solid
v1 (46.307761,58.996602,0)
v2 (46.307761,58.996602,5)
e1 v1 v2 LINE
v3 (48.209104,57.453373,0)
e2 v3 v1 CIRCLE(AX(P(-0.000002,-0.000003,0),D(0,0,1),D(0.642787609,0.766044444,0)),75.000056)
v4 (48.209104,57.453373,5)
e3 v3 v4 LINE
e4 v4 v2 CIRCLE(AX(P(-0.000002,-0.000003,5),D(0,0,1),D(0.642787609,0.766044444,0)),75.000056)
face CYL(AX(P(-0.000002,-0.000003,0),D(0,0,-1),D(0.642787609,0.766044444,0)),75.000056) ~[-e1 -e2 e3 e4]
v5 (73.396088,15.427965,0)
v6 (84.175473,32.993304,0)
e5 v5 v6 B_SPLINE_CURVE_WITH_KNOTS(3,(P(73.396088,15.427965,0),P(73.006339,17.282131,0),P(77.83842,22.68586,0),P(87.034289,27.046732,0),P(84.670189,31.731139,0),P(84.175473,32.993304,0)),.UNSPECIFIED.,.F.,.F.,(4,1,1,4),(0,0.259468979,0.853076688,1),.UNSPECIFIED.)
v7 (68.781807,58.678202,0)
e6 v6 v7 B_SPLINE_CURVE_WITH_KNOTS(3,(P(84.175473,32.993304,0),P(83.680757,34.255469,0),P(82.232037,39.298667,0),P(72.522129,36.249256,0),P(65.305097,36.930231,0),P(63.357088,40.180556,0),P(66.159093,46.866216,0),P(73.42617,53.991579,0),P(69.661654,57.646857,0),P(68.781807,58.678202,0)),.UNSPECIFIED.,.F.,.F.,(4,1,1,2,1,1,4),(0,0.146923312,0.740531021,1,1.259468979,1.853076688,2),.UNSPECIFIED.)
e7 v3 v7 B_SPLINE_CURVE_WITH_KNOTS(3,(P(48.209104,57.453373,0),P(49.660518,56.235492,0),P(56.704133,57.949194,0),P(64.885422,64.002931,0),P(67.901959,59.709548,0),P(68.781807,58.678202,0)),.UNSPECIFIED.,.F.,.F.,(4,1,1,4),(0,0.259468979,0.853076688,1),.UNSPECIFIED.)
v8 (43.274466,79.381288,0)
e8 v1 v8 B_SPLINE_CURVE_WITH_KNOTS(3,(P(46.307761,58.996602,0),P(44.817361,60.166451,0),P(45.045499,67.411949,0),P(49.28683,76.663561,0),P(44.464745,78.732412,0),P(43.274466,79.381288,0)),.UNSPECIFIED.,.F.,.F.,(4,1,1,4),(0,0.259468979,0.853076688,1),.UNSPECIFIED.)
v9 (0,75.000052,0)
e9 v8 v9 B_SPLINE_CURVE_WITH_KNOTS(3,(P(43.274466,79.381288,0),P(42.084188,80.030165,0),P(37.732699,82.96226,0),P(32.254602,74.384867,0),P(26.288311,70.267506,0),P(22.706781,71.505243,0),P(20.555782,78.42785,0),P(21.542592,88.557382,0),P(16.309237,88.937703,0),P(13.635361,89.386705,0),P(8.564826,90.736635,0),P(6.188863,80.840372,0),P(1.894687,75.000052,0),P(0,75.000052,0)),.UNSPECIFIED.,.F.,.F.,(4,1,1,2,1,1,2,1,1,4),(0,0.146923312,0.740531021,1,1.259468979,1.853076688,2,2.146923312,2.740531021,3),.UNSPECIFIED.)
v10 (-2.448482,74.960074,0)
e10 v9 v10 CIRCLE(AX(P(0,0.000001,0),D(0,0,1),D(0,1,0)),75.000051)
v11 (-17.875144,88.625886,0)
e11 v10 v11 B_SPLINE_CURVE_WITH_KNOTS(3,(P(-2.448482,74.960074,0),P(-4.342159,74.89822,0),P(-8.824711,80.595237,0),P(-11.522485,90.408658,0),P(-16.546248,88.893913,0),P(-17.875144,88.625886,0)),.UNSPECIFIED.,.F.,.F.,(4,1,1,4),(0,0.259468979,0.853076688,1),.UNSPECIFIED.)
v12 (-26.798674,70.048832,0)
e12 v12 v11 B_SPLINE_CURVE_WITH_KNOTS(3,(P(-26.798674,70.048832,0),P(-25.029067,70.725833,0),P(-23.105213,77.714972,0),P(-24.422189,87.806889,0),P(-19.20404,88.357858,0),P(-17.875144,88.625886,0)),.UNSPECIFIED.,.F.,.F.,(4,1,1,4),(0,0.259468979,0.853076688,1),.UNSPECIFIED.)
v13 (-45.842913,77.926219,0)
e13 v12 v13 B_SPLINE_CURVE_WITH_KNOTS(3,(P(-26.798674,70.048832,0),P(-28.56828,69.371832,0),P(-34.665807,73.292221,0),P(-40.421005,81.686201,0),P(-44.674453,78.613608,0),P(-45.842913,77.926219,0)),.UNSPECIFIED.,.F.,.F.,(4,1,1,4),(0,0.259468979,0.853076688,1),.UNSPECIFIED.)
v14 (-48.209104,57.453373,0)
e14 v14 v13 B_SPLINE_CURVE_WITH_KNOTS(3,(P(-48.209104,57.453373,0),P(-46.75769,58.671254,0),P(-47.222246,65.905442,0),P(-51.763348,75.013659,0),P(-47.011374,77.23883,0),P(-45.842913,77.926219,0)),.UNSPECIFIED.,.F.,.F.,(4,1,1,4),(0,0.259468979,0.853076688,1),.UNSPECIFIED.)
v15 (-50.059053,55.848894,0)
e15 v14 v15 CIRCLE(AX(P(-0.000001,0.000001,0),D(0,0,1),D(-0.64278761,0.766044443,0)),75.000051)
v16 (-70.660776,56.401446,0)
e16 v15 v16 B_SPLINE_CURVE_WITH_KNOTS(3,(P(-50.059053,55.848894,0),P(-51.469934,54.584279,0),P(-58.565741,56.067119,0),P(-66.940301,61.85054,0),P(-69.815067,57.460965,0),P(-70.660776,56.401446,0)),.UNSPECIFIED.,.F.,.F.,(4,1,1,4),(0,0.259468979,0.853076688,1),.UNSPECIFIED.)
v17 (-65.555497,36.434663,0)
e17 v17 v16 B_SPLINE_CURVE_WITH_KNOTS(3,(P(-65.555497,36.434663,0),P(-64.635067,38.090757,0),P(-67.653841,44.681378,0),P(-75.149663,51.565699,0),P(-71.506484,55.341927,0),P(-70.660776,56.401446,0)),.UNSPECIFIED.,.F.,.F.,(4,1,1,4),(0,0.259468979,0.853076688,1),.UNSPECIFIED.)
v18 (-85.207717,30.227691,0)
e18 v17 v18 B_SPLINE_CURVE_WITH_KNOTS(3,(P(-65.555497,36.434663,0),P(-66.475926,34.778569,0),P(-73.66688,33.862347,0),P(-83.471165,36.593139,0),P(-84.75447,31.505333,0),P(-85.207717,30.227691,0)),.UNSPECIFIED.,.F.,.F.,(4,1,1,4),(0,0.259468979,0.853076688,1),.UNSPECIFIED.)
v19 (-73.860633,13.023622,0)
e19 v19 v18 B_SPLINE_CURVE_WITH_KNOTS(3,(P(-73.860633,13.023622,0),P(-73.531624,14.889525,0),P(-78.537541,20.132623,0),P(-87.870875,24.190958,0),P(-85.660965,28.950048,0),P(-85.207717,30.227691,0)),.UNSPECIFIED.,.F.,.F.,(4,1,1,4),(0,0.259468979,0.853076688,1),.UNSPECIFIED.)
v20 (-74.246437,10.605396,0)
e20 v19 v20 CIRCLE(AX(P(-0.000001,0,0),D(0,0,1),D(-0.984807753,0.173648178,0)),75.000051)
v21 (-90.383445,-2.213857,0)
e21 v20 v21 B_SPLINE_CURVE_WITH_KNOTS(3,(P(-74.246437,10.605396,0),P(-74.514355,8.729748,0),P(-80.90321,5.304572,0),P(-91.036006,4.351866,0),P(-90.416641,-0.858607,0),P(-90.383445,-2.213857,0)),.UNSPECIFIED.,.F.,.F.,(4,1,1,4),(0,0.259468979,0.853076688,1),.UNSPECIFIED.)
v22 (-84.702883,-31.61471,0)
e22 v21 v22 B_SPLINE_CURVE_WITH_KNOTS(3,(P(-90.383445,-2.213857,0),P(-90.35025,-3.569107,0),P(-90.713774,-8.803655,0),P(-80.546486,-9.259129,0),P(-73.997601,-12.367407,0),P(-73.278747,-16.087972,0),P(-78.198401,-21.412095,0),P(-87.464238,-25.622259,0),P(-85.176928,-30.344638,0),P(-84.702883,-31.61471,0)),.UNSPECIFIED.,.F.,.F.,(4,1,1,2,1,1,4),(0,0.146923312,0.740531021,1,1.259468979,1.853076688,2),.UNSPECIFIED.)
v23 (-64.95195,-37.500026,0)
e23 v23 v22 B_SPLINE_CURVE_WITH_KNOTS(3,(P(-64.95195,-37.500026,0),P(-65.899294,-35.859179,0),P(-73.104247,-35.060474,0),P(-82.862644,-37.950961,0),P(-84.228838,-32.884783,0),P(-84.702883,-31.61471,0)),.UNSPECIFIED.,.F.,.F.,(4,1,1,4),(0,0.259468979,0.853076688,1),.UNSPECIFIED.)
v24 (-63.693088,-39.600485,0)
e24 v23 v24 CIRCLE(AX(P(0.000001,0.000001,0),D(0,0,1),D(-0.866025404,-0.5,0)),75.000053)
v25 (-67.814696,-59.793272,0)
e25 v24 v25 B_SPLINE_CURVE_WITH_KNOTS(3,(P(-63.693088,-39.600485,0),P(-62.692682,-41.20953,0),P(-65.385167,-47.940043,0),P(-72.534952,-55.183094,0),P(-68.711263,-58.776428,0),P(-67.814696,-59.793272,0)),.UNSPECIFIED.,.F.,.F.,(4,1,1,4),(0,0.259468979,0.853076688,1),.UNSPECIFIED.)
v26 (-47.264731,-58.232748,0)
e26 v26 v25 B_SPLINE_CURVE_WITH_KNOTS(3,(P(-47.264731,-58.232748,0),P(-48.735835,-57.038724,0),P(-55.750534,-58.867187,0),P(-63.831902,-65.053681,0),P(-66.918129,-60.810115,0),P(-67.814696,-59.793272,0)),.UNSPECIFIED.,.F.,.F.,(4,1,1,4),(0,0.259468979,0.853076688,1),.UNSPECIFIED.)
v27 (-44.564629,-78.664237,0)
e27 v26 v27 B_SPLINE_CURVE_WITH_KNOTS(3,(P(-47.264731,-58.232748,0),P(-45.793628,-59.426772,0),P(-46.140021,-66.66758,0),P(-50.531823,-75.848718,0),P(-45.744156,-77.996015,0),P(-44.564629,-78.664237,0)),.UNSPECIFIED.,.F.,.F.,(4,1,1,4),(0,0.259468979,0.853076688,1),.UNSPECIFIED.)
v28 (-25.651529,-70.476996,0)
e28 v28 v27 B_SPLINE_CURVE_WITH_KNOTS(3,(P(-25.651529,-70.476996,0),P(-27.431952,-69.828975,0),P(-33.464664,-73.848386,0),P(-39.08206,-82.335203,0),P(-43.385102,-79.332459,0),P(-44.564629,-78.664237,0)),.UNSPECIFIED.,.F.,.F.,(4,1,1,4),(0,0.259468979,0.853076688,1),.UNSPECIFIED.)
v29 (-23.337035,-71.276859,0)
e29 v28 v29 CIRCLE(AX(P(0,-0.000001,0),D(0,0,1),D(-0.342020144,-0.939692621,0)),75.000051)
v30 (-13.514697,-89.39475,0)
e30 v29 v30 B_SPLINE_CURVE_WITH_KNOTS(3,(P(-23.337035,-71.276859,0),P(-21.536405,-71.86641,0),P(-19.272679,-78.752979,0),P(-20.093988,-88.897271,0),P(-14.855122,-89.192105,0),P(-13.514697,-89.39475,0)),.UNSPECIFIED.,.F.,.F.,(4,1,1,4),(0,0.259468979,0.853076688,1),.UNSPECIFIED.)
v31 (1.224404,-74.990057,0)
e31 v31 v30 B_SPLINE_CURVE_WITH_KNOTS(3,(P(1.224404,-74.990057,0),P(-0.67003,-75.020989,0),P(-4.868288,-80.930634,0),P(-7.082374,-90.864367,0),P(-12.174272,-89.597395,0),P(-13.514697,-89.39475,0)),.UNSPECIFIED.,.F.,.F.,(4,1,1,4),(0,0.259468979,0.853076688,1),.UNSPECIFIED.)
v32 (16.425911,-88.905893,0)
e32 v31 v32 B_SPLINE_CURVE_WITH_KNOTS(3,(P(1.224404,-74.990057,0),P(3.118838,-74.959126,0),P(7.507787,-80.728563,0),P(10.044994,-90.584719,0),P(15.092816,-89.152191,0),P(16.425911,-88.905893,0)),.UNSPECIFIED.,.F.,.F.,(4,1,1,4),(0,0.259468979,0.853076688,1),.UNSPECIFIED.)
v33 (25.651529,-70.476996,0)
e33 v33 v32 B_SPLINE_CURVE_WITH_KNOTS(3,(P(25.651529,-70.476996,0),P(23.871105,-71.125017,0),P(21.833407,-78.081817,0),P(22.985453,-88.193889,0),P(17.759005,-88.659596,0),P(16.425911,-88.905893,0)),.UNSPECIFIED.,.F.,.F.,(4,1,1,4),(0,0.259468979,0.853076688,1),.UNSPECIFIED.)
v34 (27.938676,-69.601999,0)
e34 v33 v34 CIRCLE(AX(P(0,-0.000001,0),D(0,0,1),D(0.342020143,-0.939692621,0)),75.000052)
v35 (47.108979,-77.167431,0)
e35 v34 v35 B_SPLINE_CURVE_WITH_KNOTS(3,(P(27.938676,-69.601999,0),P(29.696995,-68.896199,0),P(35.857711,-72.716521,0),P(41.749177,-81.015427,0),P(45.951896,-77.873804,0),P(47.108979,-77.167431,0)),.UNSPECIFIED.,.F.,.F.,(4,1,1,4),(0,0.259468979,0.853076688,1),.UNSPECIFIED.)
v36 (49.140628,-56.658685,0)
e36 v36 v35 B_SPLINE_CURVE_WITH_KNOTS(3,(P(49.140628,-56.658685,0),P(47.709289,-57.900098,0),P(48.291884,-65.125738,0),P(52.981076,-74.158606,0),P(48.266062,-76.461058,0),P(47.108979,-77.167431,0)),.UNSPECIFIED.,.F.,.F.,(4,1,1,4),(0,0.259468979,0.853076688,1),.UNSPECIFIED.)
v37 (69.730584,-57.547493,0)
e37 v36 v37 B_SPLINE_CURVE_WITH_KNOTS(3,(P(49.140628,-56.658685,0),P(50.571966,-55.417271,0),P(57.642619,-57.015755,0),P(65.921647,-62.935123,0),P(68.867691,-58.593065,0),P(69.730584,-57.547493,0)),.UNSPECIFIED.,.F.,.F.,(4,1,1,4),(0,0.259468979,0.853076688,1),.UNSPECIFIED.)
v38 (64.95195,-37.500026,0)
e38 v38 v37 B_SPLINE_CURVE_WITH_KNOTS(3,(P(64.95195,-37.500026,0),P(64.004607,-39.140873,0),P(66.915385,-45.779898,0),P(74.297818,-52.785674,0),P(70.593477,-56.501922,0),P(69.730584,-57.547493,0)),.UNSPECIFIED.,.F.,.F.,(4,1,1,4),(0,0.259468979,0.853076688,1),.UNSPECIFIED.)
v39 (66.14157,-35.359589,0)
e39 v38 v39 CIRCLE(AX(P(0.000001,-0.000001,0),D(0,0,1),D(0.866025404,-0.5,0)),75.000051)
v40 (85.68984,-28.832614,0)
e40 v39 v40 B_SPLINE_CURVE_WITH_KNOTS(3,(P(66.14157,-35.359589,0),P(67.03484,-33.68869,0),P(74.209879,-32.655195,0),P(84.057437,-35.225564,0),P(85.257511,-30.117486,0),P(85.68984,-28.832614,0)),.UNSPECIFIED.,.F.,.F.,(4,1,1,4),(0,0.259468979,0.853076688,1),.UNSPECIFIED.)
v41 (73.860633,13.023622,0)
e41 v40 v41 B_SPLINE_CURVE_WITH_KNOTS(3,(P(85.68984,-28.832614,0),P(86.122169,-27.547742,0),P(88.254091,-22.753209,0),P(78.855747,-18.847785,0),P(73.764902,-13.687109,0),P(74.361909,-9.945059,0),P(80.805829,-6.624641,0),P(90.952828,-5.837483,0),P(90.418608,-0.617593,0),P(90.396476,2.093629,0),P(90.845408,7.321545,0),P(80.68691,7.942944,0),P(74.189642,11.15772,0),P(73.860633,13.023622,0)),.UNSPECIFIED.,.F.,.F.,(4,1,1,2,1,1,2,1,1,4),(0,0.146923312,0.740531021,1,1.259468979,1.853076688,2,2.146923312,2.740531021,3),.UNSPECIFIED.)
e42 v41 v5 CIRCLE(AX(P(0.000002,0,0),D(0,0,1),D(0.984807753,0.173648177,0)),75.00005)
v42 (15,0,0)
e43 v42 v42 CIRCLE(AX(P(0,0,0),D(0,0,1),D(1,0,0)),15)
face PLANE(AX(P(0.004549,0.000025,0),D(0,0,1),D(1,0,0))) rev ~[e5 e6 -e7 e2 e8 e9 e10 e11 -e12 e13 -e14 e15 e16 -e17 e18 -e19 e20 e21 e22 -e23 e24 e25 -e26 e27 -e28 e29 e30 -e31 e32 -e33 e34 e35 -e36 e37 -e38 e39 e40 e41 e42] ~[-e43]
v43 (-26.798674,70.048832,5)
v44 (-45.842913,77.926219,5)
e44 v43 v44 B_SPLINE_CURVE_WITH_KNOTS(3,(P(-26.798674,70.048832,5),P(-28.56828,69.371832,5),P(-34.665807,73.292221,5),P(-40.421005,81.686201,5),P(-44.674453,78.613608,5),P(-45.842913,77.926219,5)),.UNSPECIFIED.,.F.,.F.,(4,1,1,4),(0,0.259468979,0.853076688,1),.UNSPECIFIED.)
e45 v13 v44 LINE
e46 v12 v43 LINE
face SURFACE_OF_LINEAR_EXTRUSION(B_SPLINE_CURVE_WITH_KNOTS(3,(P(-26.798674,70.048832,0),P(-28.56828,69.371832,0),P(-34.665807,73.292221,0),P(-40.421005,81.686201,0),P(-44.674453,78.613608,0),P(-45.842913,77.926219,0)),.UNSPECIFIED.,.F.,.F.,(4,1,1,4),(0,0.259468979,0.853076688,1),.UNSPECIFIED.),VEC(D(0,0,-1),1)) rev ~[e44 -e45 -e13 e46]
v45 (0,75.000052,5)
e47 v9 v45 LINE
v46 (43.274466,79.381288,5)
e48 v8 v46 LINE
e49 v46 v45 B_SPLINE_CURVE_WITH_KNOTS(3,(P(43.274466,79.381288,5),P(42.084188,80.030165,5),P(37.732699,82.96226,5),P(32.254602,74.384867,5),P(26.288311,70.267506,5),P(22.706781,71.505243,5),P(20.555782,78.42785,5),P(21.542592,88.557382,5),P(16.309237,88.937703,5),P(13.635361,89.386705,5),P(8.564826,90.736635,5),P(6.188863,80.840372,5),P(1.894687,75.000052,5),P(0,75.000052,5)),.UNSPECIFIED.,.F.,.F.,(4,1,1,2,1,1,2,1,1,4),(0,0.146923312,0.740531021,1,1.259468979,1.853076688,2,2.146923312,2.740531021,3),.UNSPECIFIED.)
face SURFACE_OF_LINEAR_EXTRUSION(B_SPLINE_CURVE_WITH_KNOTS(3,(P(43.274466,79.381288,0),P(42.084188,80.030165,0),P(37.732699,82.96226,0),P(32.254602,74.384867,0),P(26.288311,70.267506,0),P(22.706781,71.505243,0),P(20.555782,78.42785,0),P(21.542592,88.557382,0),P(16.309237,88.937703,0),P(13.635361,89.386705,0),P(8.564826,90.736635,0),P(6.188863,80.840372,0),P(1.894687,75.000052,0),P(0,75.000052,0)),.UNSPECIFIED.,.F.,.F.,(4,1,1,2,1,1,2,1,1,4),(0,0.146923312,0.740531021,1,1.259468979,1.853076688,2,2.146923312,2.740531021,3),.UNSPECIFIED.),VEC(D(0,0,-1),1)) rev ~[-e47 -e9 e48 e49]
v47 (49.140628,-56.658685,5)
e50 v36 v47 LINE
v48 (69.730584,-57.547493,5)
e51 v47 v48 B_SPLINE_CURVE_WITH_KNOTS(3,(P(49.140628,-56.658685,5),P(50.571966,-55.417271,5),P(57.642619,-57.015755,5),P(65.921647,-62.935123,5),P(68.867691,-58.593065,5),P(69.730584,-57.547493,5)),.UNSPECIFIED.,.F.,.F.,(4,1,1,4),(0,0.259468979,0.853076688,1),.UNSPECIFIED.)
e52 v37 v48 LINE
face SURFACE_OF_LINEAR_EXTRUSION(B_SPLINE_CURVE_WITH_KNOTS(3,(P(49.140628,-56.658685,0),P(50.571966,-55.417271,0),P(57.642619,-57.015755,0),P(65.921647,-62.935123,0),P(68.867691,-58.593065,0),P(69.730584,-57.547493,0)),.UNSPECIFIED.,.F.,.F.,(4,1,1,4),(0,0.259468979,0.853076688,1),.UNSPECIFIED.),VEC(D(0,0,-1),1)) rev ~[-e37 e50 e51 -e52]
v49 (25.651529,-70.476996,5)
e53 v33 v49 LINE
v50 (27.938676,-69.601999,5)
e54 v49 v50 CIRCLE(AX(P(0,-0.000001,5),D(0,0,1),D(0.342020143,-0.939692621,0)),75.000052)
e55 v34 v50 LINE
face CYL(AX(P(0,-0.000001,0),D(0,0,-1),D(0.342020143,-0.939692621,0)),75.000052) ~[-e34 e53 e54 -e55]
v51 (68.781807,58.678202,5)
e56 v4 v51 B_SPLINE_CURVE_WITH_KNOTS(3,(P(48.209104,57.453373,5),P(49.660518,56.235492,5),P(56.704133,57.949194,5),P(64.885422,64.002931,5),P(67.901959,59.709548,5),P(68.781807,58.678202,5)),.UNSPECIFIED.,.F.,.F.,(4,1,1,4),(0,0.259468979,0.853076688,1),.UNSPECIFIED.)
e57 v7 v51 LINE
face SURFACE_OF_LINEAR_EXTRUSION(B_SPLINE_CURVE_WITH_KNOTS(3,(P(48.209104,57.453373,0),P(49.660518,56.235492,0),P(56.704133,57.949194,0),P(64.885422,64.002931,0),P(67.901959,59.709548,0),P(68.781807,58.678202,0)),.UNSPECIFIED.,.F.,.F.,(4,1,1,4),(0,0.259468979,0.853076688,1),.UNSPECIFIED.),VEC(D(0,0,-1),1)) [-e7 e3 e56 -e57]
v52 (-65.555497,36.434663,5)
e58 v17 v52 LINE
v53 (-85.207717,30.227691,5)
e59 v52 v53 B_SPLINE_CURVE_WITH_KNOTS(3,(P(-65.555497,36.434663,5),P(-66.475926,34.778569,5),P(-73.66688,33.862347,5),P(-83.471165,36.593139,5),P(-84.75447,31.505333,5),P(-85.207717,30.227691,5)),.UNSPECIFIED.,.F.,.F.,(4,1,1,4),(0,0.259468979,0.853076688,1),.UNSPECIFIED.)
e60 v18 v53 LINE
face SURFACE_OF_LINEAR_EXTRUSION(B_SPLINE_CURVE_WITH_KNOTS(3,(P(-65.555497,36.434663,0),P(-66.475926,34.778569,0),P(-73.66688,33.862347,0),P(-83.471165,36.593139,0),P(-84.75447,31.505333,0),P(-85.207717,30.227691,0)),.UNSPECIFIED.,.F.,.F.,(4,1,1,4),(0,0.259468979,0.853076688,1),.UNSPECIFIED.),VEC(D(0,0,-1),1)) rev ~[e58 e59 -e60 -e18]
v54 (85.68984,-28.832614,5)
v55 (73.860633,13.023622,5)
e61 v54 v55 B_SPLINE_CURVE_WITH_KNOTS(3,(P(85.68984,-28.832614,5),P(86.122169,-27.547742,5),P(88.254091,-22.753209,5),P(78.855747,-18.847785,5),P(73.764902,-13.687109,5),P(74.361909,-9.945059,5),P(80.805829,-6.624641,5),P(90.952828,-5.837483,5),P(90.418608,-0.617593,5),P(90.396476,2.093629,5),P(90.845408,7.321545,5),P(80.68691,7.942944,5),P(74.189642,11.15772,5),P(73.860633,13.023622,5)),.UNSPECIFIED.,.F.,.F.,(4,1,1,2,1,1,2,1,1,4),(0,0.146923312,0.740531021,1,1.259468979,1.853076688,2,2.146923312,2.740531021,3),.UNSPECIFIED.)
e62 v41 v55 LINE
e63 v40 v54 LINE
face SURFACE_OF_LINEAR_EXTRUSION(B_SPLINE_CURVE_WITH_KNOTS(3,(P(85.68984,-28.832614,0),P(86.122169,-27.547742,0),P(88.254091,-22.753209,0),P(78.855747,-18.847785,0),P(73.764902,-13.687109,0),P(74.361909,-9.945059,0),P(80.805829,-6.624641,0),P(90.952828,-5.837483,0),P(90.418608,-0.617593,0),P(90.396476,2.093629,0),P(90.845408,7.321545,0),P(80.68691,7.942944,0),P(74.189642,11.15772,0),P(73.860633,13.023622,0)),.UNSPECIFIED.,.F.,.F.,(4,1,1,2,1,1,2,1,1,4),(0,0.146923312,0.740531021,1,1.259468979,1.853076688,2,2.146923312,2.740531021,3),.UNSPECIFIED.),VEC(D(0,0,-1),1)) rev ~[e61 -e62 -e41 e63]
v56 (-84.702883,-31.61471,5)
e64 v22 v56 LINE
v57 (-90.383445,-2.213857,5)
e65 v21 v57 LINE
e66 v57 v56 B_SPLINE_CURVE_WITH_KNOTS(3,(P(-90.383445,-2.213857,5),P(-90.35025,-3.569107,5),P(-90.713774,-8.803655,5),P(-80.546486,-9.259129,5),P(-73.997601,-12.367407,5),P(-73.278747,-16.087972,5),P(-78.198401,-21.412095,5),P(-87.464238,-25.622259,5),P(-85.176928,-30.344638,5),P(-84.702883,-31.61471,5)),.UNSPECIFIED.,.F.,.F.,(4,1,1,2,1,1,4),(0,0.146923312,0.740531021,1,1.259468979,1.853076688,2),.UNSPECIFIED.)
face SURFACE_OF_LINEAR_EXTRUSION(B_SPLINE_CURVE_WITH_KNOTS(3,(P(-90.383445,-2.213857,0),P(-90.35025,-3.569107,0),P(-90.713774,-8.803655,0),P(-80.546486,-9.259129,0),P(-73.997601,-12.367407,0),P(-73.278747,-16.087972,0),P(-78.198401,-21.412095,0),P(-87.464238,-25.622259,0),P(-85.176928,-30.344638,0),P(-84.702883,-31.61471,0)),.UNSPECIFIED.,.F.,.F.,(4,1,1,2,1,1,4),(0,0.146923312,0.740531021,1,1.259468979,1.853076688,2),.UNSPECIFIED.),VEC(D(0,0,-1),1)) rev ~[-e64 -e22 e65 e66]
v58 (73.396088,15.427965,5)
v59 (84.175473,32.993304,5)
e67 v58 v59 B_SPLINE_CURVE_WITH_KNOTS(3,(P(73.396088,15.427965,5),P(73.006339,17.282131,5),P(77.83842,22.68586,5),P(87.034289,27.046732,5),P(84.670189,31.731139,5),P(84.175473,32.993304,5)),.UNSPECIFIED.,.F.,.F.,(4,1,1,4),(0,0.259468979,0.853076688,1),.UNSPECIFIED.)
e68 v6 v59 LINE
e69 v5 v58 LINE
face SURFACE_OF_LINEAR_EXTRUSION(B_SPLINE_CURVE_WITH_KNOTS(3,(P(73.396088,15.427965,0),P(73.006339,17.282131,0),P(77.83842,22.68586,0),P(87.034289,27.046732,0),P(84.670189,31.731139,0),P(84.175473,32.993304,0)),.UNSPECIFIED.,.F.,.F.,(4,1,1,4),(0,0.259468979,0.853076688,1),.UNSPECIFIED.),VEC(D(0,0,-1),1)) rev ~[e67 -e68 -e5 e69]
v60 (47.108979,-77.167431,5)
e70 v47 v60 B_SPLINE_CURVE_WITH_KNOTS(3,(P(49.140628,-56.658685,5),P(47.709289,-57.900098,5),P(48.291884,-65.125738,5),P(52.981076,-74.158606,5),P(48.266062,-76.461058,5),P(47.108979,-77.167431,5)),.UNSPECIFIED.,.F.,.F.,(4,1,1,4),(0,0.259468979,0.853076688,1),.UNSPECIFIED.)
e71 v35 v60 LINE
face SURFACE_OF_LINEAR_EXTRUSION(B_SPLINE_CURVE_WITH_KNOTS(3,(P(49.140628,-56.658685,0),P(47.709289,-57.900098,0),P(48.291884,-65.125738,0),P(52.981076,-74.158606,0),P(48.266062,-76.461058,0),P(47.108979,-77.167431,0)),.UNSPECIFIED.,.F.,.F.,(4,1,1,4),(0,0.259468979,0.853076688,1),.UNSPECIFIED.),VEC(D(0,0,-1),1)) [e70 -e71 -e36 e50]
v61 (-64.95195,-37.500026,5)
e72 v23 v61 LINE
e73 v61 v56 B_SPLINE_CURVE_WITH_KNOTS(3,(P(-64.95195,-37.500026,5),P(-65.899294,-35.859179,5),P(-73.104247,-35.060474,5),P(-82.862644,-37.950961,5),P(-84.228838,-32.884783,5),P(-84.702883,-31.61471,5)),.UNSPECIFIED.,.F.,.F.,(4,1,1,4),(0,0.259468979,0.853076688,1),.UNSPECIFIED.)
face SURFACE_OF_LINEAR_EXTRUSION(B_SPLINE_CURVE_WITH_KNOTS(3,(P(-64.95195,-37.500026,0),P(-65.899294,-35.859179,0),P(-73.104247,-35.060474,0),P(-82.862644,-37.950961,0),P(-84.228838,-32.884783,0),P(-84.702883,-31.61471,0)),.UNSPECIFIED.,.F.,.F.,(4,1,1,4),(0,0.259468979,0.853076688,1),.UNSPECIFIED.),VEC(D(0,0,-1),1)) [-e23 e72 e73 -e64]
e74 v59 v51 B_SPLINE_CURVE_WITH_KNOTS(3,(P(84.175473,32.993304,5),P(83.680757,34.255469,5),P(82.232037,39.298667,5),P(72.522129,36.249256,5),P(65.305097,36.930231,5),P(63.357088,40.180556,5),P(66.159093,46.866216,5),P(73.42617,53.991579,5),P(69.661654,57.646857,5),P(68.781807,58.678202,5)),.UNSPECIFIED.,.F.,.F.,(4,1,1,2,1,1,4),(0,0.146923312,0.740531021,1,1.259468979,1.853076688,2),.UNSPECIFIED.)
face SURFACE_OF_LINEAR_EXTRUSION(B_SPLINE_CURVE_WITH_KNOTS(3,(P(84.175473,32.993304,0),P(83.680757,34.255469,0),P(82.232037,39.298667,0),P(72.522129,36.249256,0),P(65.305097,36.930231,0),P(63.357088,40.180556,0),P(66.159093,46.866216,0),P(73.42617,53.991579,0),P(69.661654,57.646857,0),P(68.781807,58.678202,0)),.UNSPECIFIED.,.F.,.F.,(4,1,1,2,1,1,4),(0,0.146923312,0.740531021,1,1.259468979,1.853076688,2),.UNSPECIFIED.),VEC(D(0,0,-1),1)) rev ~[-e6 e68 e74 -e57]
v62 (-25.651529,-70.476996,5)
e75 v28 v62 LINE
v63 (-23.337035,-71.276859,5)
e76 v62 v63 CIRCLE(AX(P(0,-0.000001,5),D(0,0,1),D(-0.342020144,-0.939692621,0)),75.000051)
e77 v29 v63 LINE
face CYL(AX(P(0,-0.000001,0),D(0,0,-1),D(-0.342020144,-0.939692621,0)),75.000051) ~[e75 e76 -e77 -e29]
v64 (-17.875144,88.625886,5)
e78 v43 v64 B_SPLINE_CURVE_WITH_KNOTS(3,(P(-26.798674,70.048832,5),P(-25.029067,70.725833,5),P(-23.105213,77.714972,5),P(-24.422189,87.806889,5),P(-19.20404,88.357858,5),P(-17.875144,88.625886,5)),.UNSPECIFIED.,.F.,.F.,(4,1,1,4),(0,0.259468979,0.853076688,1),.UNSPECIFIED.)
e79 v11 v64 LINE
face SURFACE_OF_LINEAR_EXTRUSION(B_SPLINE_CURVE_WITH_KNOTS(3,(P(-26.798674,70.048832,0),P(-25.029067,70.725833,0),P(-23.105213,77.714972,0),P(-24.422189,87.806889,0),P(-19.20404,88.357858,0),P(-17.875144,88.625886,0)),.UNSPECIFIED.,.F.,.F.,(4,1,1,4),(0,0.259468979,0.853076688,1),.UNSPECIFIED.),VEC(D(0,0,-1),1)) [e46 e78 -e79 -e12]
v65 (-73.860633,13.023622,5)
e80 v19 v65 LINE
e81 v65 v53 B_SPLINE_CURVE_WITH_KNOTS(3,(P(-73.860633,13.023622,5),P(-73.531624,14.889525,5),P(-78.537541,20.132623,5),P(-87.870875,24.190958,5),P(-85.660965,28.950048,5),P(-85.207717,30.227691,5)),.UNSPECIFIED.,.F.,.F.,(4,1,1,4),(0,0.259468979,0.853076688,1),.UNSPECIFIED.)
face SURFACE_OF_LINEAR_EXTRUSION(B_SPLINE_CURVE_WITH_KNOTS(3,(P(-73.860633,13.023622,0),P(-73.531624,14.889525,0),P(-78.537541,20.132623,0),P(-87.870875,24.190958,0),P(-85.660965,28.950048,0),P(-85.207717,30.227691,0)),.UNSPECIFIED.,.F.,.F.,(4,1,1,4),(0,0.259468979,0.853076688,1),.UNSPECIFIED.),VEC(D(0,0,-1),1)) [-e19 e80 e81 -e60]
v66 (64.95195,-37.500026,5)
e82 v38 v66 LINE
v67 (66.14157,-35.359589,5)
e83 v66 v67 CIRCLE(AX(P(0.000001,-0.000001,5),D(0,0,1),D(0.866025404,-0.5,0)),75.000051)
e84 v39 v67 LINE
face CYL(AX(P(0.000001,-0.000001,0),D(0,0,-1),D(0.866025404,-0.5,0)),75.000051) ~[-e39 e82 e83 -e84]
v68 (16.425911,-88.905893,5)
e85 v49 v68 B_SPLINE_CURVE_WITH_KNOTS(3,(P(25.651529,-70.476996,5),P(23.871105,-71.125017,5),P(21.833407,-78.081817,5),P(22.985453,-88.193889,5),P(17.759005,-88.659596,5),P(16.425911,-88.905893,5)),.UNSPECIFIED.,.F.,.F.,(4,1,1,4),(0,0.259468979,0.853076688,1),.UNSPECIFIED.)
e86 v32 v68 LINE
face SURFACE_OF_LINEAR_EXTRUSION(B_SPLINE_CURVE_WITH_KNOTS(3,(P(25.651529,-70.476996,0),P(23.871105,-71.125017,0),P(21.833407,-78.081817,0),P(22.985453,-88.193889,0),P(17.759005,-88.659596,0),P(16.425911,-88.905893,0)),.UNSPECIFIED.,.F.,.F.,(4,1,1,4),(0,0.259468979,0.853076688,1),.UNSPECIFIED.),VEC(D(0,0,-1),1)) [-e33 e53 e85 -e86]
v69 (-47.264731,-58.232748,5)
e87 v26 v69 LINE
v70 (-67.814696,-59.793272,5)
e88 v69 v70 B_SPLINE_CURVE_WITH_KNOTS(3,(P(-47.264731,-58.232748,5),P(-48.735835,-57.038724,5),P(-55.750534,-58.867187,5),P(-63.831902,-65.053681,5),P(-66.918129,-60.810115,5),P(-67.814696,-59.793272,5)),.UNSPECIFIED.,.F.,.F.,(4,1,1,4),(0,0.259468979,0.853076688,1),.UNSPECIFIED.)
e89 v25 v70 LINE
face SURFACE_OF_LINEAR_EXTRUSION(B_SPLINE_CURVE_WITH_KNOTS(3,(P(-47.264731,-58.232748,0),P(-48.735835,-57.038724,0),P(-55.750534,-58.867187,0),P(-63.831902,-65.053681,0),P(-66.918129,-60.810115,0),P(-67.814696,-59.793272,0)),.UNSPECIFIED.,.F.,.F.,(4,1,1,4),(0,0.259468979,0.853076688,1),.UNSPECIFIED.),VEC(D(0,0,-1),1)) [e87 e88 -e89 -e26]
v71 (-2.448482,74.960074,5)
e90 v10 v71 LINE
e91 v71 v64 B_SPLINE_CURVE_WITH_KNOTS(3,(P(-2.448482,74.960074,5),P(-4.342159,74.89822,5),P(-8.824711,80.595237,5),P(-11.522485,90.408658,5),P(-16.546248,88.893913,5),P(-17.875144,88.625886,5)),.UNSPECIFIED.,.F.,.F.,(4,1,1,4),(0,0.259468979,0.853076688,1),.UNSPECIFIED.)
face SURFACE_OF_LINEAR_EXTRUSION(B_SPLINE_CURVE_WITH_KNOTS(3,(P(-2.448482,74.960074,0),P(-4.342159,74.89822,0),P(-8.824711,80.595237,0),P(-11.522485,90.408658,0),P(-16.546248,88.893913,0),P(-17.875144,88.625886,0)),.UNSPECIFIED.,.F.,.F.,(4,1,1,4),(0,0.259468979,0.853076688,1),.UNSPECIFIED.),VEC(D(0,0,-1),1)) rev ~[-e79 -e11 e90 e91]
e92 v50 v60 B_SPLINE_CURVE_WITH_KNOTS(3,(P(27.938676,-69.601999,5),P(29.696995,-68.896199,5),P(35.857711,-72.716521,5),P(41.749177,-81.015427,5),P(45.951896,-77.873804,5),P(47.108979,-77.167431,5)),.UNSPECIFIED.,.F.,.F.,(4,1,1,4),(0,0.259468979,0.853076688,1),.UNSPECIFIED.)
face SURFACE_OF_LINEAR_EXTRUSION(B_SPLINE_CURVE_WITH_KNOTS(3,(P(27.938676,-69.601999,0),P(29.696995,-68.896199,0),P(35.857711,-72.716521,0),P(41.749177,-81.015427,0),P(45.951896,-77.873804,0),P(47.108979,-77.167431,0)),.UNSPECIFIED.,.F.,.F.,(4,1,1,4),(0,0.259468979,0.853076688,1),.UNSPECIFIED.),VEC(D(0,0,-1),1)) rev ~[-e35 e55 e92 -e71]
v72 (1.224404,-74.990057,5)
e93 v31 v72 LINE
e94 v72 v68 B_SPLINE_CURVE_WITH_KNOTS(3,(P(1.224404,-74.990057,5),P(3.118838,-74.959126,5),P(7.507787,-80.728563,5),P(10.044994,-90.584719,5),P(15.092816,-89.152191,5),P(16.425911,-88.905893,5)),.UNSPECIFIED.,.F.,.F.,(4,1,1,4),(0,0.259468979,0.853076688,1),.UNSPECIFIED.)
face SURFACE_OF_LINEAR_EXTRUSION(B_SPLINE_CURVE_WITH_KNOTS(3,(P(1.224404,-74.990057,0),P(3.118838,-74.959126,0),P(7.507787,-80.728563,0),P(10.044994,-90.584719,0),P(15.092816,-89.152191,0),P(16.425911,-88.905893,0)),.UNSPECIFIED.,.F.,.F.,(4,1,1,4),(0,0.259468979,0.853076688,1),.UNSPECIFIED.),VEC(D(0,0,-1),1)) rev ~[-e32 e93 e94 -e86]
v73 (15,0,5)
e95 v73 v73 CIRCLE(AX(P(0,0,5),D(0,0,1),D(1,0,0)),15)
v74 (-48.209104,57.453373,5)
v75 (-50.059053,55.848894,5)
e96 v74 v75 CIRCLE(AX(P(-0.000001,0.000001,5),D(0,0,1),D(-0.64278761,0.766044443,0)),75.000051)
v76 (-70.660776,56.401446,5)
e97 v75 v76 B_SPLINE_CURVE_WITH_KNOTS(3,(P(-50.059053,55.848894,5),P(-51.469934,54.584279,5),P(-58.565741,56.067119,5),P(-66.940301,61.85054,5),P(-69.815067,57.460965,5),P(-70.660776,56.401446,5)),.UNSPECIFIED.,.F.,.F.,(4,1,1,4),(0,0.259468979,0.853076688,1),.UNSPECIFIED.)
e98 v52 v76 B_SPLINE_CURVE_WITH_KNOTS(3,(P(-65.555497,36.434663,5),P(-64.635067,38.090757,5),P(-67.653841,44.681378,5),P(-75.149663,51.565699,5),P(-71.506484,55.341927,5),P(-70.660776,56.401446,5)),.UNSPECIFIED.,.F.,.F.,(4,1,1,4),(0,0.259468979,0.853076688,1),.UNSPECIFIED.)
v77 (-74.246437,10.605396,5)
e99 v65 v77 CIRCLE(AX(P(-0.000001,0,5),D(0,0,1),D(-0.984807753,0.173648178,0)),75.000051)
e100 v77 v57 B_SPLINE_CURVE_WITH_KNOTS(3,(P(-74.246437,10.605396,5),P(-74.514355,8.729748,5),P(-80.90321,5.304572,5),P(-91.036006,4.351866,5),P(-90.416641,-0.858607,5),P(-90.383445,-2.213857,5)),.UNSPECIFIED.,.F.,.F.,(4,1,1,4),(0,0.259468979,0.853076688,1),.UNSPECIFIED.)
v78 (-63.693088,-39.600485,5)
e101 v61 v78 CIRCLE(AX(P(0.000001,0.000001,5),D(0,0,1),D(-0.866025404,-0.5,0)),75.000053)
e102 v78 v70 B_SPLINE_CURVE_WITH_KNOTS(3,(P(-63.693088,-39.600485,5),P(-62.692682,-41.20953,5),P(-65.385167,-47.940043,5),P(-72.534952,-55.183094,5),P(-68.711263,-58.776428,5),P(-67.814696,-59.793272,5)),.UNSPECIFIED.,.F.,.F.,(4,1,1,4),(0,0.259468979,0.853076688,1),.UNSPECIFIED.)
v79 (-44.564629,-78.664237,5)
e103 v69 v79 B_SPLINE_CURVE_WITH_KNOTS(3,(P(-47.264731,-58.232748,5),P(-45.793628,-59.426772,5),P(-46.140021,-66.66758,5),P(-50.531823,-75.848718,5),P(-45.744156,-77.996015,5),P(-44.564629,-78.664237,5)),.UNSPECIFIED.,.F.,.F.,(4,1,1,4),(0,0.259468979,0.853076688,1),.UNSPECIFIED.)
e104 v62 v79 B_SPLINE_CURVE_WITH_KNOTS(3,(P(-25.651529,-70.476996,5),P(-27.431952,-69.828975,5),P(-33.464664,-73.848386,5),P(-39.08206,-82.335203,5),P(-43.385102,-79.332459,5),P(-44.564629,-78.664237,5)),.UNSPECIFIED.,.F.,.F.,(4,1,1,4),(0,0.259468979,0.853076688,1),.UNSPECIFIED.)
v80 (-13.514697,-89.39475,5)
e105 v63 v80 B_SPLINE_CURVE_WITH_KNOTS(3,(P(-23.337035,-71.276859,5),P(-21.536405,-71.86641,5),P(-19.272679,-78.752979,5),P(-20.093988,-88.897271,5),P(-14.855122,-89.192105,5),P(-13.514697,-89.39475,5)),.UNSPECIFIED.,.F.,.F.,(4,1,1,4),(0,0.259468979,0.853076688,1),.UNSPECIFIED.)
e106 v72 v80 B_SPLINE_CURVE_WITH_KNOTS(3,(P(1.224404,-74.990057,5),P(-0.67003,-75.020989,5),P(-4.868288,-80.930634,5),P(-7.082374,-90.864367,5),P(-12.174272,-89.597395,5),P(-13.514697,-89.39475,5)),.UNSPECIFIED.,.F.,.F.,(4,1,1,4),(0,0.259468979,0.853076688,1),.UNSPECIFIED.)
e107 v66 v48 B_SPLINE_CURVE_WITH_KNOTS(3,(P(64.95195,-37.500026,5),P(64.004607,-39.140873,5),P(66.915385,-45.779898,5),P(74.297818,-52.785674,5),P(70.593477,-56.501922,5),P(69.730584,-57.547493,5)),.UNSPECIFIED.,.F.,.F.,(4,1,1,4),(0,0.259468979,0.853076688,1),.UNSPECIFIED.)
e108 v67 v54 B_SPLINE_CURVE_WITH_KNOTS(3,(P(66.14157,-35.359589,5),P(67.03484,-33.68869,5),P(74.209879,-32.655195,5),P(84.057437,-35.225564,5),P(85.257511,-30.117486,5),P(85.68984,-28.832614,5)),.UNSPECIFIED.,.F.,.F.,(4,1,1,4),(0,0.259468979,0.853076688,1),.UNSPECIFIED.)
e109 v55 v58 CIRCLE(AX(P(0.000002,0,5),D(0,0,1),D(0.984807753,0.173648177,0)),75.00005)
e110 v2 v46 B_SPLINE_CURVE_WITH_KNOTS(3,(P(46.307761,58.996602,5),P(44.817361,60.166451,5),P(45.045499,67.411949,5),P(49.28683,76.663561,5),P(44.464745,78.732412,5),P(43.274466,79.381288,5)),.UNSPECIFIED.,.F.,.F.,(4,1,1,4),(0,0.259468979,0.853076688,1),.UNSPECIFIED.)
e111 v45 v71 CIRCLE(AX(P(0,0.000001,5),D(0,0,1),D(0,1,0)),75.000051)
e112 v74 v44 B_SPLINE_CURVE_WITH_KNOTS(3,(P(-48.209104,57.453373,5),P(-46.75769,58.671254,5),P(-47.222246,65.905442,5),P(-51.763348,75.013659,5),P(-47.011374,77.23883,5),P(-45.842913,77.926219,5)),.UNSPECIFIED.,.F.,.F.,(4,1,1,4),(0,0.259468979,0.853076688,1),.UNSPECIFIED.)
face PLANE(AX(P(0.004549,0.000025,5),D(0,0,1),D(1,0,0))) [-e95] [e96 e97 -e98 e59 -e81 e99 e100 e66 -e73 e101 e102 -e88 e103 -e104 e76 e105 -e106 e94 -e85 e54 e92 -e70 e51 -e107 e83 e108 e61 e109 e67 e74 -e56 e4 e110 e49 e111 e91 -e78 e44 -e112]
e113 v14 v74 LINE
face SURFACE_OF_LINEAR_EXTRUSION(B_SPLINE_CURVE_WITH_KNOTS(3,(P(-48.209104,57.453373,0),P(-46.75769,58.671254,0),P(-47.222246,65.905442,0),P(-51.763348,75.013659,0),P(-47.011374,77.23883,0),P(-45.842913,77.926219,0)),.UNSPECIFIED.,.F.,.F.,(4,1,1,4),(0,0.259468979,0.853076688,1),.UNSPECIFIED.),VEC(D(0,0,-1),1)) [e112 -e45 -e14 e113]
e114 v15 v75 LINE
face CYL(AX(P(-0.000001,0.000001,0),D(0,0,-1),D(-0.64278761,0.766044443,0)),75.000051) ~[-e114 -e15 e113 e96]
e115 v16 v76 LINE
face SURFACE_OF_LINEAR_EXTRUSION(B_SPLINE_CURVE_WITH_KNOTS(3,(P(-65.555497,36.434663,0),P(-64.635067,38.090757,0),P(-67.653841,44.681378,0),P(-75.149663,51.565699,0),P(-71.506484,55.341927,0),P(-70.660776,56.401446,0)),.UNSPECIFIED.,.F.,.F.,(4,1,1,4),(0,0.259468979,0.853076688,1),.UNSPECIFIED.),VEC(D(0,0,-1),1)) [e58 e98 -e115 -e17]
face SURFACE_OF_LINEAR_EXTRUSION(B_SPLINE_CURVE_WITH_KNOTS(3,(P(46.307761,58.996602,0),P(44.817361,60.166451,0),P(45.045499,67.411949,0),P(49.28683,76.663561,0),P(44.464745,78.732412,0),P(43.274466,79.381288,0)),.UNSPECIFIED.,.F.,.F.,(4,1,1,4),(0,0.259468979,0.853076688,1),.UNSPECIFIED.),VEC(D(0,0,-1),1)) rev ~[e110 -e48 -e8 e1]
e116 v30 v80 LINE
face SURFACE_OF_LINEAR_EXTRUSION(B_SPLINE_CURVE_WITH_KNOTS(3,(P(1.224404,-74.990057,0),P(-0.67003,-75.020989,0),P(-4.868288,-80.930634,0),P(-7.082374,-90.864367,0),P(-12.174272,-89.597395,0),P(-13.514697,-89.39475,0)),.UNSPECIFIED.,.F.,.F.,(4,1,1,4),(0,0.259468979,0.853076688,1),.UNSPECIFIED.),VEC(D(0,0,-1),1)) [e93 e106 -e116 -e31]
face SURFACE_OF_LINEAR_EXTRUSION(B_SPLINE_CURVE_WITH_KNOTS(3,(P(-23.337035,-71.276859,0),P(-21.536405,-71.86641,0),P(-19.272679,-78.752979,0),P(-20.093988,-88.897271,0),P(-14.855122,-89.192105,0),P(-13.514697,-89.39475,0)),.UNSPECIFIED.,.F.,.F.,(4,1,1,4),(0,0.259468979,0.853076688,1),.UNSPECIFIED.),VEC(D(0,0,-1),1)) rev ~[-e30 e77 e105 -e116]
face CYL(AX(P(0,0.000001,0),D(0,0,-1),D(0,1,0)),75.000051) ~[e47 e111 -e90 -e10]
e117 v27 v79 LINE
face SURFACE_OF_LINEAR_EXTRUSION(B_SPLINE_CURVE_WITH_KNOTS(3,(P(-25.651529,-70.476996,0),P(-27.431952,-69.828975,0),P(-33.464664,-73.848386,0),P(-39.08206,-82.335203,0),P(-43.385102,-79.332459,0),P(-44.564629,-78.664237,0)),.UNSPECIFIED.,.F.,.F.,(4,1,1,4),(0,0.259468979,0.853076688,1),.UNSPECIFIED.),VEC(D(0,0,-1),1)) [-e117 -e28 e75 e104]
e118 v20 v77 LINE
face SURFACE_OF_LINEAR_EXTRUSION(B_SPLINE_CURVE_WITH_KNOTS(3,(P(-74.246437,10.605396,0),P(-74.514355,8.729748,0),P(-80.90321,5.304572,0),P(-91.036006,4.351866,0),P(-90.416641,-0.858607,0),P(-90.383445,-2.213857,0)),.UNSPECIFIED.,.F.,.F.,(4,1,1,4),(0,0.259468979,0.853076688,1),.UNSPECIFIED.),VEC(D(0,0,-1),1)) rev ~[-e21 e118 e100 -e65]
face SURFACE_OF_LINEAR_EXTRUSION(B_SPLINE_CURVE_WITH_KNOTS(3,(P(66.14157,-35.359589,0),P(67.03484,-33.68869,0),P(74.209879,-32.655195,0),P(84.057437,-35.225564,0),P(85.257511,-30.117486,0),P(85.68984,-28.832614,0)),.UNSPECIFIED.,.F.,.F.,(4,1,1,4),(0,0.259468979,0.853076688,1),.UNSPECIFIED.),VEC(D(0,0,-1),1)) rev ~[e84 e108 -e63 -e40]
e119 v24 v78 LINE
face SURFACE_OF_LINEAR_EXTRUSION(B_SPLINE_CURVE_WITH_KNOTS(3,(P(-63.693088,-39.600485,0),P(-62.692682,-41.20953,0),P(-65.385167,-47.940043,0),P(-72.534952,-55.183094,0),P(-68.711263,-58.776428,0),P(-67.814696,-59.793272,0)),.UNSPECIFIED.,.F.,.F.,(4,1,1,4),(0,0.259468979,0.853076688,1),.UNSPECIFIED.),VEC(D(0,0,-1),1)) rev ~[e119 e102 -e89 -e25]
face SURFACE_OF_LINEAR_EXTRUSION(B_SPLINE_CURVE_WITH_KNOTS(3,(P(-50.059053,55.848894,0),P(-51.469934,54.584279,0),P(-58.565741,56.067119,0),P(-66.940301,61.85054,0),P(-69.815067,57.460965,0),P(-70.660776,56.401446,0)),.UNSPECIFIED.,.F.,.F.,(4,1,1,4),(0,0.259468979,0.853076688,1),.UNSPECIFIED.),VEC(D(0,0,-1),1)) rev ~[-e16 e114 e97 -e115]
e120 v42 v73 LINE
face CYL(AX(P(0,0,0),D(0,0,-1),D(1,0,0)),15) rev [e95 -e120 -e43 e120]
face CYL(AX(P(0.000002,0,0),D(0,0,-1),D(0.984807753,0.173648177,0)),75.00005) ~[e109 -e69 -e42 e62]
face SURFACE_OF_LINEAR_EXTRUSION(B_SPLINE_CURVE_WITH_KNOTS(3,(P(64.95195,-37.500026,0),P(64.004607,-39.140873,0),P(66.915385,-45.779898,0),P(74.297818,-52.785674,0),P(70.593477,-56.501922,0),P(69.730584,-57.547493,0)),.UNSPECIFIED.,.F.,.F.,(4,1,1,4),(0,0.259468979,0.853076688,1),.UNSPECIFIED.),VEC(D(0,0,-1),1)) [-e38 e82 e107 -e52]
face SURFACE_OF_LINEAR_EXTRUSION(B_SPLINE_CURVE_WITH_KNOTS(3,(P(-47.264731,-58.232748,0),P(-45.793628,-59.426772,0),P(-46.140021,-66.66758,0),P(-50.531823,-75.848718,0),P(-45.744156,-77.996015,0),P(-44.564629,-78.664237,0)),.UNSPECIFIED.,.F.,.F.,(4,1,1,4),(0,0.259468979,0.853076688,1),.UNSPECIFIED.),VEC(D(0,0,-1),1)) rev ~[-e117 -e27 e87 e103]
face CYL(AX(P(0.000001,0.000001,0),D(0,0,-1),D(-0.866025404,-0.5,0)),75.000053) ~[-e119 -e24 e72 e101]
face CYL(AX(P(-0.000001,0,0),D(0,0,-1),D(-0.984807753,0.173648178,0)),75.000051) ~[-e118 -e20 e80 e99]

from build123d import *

# Parameters (mm, degrees)
SKETCH2_R           = 15
BOSS_EXTRUDE2_DEPTH = 5


with BuildPart() as part:
    # Sketch2 → Boss-Extrude2 (new body)
    with BuildSketch(Plane.XY):
        with BuildLine():
            ThreePointArc((74.063405158, -11.816083963), (74.765523718, -5.926574639), (75.000052159, 0))
            ThreePointArc((75.000052159, 0), (74.714654317, 6.536685252), (73.860632842, 13.023622382))
            ThreePointArc((73.860632842, 13.023622382), (73.638174028, 14.227689541), (73.396088008, 15.427964512))
            ThreePointArc((73.396088008, 15.427964512), (69.827741951, 27.369586731), (64.331092326, 38.555393708))
            ThreePointArc((64.331092326, 38.555393708), (57.057929937, 48.676487704), (48.209104254, 57.45337319))
            ThreePointArc((48.209104254, 57.45337319), (47.264731464, 58.232748376), (46.307760934, 58.996602454))
            ThreePointArc((46.307760934, 58.996602454), (35.898322464, 65.850727165), (24.497546434, 70.886374167))
            ThreePointArc((24.497546434, 70.886374167), (12.420266985, 73.964483314), (0, 75.000052159))
            ThreePointArc((0, 75.000052159), (-1.224404241, 74.990057062), (-2.448482134, 74.960074434))
            ThreePointArc((-2.448482134, 74.960074434), (-14.828321069, 73.519580508), (-26.798673694, 70.048832339))
            ThreePointArc((-26.798673694, 70.048832339), (-38.028976925, 64.643675158), (-48.209104254, 57.45337319))
            ThreePointArc((-48.209104254, 57.45337319), (-49.140627594, 56.658684626), (-50.0590532, 55.848894497))
            ThreePointArc((-50.0590532, 55.848894497), (-58.616628376, 46.787805053), (-65.555496567, 36.434663354))
            ThreePointArc((-65.555496567, 36.434663354), (-70.684039887, 25.075372961), (-73.860632842, 13.023622382))
            ThreePointArc((-73.860632842, 13.023622382), (-74.063405158, 11.816083963), (-74.246436929, 10.605396134))
            ThreePointArc((-74.246436929, 10.605396134), (-74.977563814, -1.836504375), (-73.638174028, -14.227689541))
            ThreePointArc((-73.638174028, -14.227689541), (-70.26525502, -26.225974926), (-64.951950455, -37.500026079))
            ThreePointArc((-64.951950455, -37.500026079), (-64.331092326, -38.555393708), (-63.693087662, -39.600484946))
            ThreePointArc((-63.693087662, -39.600484946), (-56.255663861, -49.601492996), (-47.264731464, -58.232748376))
            ThreePointArc((-47.264731464, -58.232748376), (-36.968576418, -65.255897676), (-25.651528589, -70.476995572))
            ThreePointArc((-25.651528589, -70.476995572), (-24.497546434, -70.886374167), (-23.337034808, -71.276859009))
            ThreePointArc((-23.337034808, -71.276859009), (-11.211113575, -74.157391784), (1.224404241, -74.990057062))
            ThreePointArc((1.224404241, -74.990057062), (13.62610995, -73.751860665), (25.651528589, -70.476995572))
            ThreePointArc((25.651528589, -70.476995572), (26.798673694, -70.048832339), (27.938675995, -69.601998588))
            ThreePointArc((27.938675995, -69.601998588), (39.07924135, -64.014222789), (49.140627594, -56.658684626))
            ThreePointArc((49.140627594, -56.658684626), (57.844988035, -47.738508388), (64.951950455, -37.500026079))
            ThreePointArc((64.951950455, -37.500026079), (65.555496567, -36.434663354), (66.141569796, -35.359589488))
            ThreePointArc((66.141569796, -35.359589488), (71.08398493, -23.918087513), (74.063405158, -11.816083963))
        make_face()
        Circle(SKETCH2_R, mode=Mode.SUBTRACT)
        with BuildLine():
            ThreePointArc((73.860632842, 13.023622382), (74.714654317, 6.536685252), (75.000052159, 0))
            ThreePointArc((75.000052159, 0), (74.765523718, -5.926574639), (74.063405158, -11.816083963))
            add(Edge.make_bspline(
                [(74.063405158, -11.816083963), (74.361908643, -9.945059297), (80.805828655, -6.624640655), (90.952828083, -5.837483272), (90.418608394, -0.617593234), (90.407542225, 0.738017851)],
                knots=[0, 0, 0, 0, 0.259468979, 0.853076688, 1, 1, 1, 1], degree=3))
            add(Edge.make_bspline(
                [(73.860632842, 13.023622382), (74.189641732, 11.157720246), (80.686910067, 7.942943543), (90.845407869, 7.321544669), (90.396476056, 2.093628936), (90.407542225, 0.738017851)],
                knots=[0, 0, 0, 0, 0.259468979, 0.853076688, 1, 1, 1, 1], degree=3))
        make_face()
        with BuildLine():
            add(Edge.make_bspline(
                [(74.063405158, -11.816083963), (73.764901673, -13.687108629), (78.855746836, -18.847784999), (88.254091344, -22.753208746), (86.122169401, -27.547742249), (85.689840304, -28.832614003)],
                knots=[0, 0, 0, 0, 0.259468979, 0.853076688, 1, 1, 1, 1], degree=3))
            ThreePointArc((74.063405158, -11.816083963), (71.08398493, -23.918087513), (66.141569796, -35.359589488))
            add(Edge.make_bspline(
                [(66.141569796, -35.359589488), (67.03484042, -33.688689962), (74.209878561, -32.655194568), (84.057437349, -35.225564205), (85.257511206, -30.117485758), (85.689840304, -28.832614003)],
                knots=[0, 0, 0, 0, 0.259468979, 0.853076688, 1, 1, 1, 1], degree=3))
        make_face()
        with BuildLine():
            ThreePointArc((64.331092326, 38.555393708), (69.827741951, 27.369586731), (73.396088008, 15.427964512))
            add(Edge.make_bspline(
                [(73.396088008, 15.427964512), (73.006339493, 17.282131098), (77.838419557, 22.685860118), (87.034288999, 27.046731515), (84.670189373, 31.731139231), (84.175473033, 32.993303885)],
                knots=[0, 0, 0, 0, 0.259468979, 0.853076688, 1, 1, 1, 1], degree=3))
            add(Edge.make_bspline(
                [(64.331092326, 38.555393708), (65.305096863, 36.930231318), (72.522129339, 36.249256055), (82.232036919, 39.298667297), (83.680756692, 34.25546854), (84.175473033, 32.993303885)],
                knots=[0, 0, 0, 0, 0.259468979, 0.853076688, 1, 1, 1, 1], degree=3))
        make_face()
        with BuildLine():
            ThreePointArc((48.209104254, 57.45337319), (57.057929937, 48.676487704), (64.331092326, 38.555393708))
            add(Edge.make_bspline(
                [(64.331092326, 38.555393708), (63.357087789, 40.180556098), (66.159092944, 46.866216288), (73.426170457, 53.991579335), (69.661653794, 57.646857296), (68.781806607, 58.678202438)],
                knots=[0, 0, 0, 0, 0.259468979, 0.853076688, 1, 1, 1, 1], degree=3))
            add(Edge.make_bspline(
                [(48.209104254, 57.45337319), (49.66051846, 56.235492065), (56.704133395, 57.949193819), (64.885421684, 64.002931184), (67.901959421, 59.70954758), (68.781806607, 58.678202438)],
                knots=[0, 0, 0, 0, 0.259468979, 0.853076688, 1, 1, 1, 1], degree=3))
        make_face()
        with BuildLine():
            add(Edge.make_bspline(
                [(64.951950455, -37.500026079), (64.004607113, -39.14087288), (66.915384784, -45.779898292), (74.297818078, -52.785673966), (70.593476899, -56.501921955), (69.730584068, -57.547493491)],
                knots=[0, 0, 0, 0, 0.259468979, 0.853076688, 1, 1, 1, 1], degree=3))
            ThreePointArc((64.951950455, -37.500026079), (57.844988035, -47.738508388), (49.140627594, -56.658684626))
            add(Edge.make_bspline(
                [(49.140627594, -56.658684626), (50.571966002, -55.417270919), (57.64261908, -57.015754611), (65.92164662, -62.935122579), (68.867691237, -58.593065026), (69.730584068, -57.547493491)],
                knots=[0, 0, 0, 0, 0.259468979, 0.853076688, 1, 1, 1, 1], degree=3))
        make_face()
        with BuildLine():
            add(Edge.make_bspline(
                [(49.140627594, -56.658684626), (47.709289185, -57.900098333), (48.291884004, -65.125737982), (52.981075594, -74.158605543), (48.266061907, -76.461058281), (47.10897896, -77.167431361)],
                knots=[0, 0, 0, 0, 0.259468979, 0.853076688, 1, 1, 1, 1], degree=3))
            ThreePointArc((49.140627594, -56.658684626), (39.07924135, -64.014222789), (27.938675995, -69.601998588))
            add(Edge.make_bspline(
                [(27.938675995, -69.601998588), (29.696994505, -68.896198581), (35.857710636, -72.716520793), (41.749176569, -81.015426944), (45.951896014, -77.873804441), (47.10897896, -77.167431361)],
                knots=[0, 0, 0, 0, 0.259468979, 0.853076688, 1, 1, 1, 1], degree=3))
        make_face()
        with BuildLine():
            ThreePointArc((24.497546434, 70.886374167), (35.898322464, 65.850727165), (46.307760934, 58.996602454))
            add(Edge.make_bspline(
                [(46.307760934, 58.996602454), (44.817360943, 60.166450947), (45.045498964, 67.411948729), (49.286829548, 76.663560968), (44.464744929, 78.73241152), (43.274466423, 79.381288206)],
                knots=[0, 0, 0, 0, 0.259468979, 0.853076688, 1, 1, 1, 1], degree=3))
            add(Edge.make_bspline(
                [(24.497546434, 70.886374167), (26.288311445, 70.267505597), (32.254601531, 74.384867335), (37.732698512, 82.962260156), (42.084187918, 80.030164892), (43.274466423, 79.381288206)],
                knots=[0, 0, 0, 0, 0.259468979, 0.853076688, 1, 1, 1, 1], degree=3))
        make_face()
        with BuildLine():
            ThreePointArc((0, 75.000052159), (12.420266985, 73.964483314), (24.497546434, 70.886374167))
            add(Edge.make_bspline(
                [(24.497546434, 70.886374167), (22.706781423, 71.505242737), (20.555782369, 78.42784977), (21.542591634, 88.557381922), (16.30923718, 88.937702624), (14.972299253, 89.162203969)],
                knots=[0, 0, 0, 0, 0.259468979, 0.853076688, 1, 1, 1, 1], degree=3))
            add(Edge.make_bspline(
                [(0, 75.000052159), (1.894686684, 75.000052159), (6.188862512, 80.840372273), (8.564825572, 90.736634884), (13.635361326, 89.386705314), (14.972299253, 89.162203969)],
                knots=[0, 0, 0, 0, 0.259468979, 0.853076688, 1, 1, 1, 1], degree=3))
        make_face()
        with BuildLine():
            add(Edge.make_bspline(
                [(25.651528589, -70.476995572), (23.871105493, -71.125016584), (21.833407278, -78.081816929), (22.98545348, -88.193889105), (17.759005343, -88.659595615), (16.425910656, -88.905893059)],
                knots=[0, 0, 0, 0, 0.259468979, 0.853076688, 1, 1, 1, 1], degree=3))
            ThreePointArc((25.651528589, -70.476995572), (13.62610995, -73.751860665), (1.224404241, -74.990057062))
            add(Edge.make_bspline(
                [(1.224404241, -74.990057062), (3.118838424, -74.959125584), (7.507787412, -80.728563325), (10.044994066, -90.584718586), (15.09281597, -89.152190503), (16.425910656, -88.905893059)],
                knots=[0, 0, 0, 0, 0.259468979, 0.853076688, 1, 1, 1, 1], degree=3))
        make_face()
        with BuildLine():
            add(Edge.make_bspline(
                [(1.224404241, -74.990057062), (-0.670029943, -75.020988539), (-4.868288058, -80.930634371), (-7.082374245, -90.864366625), (-12.174272371, -89.597395373), (-13.514697197, -89.394749964)],
                knots=[0, 0, 0, 0, 0.259468979, 0.853076688, 1, 1, 1, 1], degree=3))
            ThreePointArc((1.224404241, -74.990057062), (-11.211113575, -74.157391784), (-23.337034808, -71.276859009))
            add(Edge.make_bspline(
                [(-23.337034808, -71.276859009), (-21.536405185, -71.866410187), (-19.272678609, -78.752978785), (-20.093987918, -88.897271031), (-14.855122022, -89.192104556), (-13.514697197, -89.394749964)],
                knots=[0, 0, 0, 0, 0.259468979, 0.853076688, 1, 1, 1, 1], degree=3))
        make_face()
        with BuildLine():
            ThreePointArc((-26.798673694, 70.048832339), (-14.828321069, 73.519580508), (-2.448482134, 74.960074434))
            add(Edge.make_bspline(
                [(-2.448482134, 74.960074434), (-4.342158882, 74.898219723), (-8.824711219, 80.59523733), (-11.522485211, 90.408658223), (-16.546247839, 88.893913447), (-17.875143967, 88.625885551)],
                knots=[0, 0, 0, 0, 0.259468979, 0.853076688, 1, 1, 1, 1], degree=3))
            add(Edge.make_bspline(
                [(-26.798673694, 70.048832339), (-25.02906706, 70.725833071), (-23.105212804, 77.714972493), (-24.42218888, 87.806889465), (-19.204040096, 88.357857655), (-17.875143967, 88.625885551)],
                knots=[0, 0, 0, 0, 0.259468979, 0.853076688, 1, 1, 1, 1], degree=3))
        make_face()
        with BuildLine():
            ThreePointArc((-48.209104254, 57.45337319), (-38.028976925, 64.643675158), (-26.798673694, 70.048832339))
            add(Edge.make_bspline(
                [(-26.798673694, 70.048832339), (-28.568280329, 69.371831607), (-34.665807229, 73.292220716), (-40.421005234, 81.686201301), (-44.674452768, 78.613608461), (-45.84291332, 77.926219335)],
                knots=[0, 0, 0, 0, 0.259468979, 0.853076688, 1, 1, 1, 1], degree=3))
            add(Edge.make_bspline(
                [(-48.209104254, 57.45337319), (-46.757690048, 58.671254315), (-47.222245923, 65.9054421), (-51.763347613, 75.013658697), (-47.011373873, 77.238830209), (-45.84291332, 77.926219335)],
                knots=[0, 0, 0, 0, 0.259468979, 0.853076688, 1, 1, 1, 1], degree=3))
        make_face()
        with BuildLine():
            add(Edge.make_bspline(
                [(-25.651528589, -70.476995572), (-27.431951685, -69.828974561), (-33.464664144, -73.848385643), (-39.082060256, -82.335203366), (-43.385102183, -79.332459145), (-44.564628905, -78.664237186)],
                knots=[0, 0, 0, 0, 0.259468979, 0.853076688, 1, 1, 1, 1], degree=3))
            ThreePointArc((-25.651528589, -70.476995572), (-36.968576418, -65.255897676), (-47.264731464, -58.232748376))
            add(Edge.make_bspline(
                [(-47.264731464, -58.232748376), (-45.793628315, -59.426772311), (-46.140021426, -66.667580061), (-50.531822849, -75.84871803), (-45.744155627, -77.996015228), (-44.564628905, -78.664237186)],
                knots=[0, 0, 0, 0, 0.259468979, 0.853076688, 1, 1, 1, 1], degree=3))
        make_face()
        with BuildLine():
            add(Edge.make_bspline(
                [(-47.264731464, -58.232748376), (-48.735834614, -57.038724442), (-55.750534032, -58.867187494), (-63.831902463, -65.053680719), (-66.918129305, -60.810115406), (-67.814696336, -59.793271548)],
                knots=[0, 0, 0, 0, 0.259468979, 0.853076688, 1, 1, 1, 1], degree=3))
            ThreePointArc((-47.264731464, -58.232748376), (-56.255663861, -49.601492996), (-63.693087662, -39.600484946))
            add(Edge.make_bspline(
                [(-63.693087662, -39.600484946), (-62.692681537, -41.209529761), (-65.385167342, -47.940042762), (-72.534952138, -55.183094019), (-68.711263367, -58.776427689), (-67.814696336, -59.793271548)],
                knots=[0, 0, 0, 0, 0.259468979, 0.853076688, 1, 1, 1, 1], degree=3))
        make_face()
        with BuildLine():
            ThreePointArc((-65.555496567, 36.434663354), (-58.616628376, 46.787805053), (-50.0590532, 55.848894497))
            add(Edge.make_bspline(
                [(-50.0590532, 55.848894497), (-51.469934309, 54.58427909), (-58.565740947, 56.067118667), (-66.940301081, 61.850539516), (-69.815067351, 57.460965325), (-70.660775836, 56.401446079)],
                knots=[0, 0, 0, 0, 0.259468979, 0.853076688, 1, 1, 1, 1], degree=3))
            add(Edge.make_bspline(
                [(-65.555496567, 36.434663354), (-64.63506692, 38.090757221), (-67.653841281, 44.681378316), (-75.149662674, 51.565699328), (-71.50648432, 55.341926833), (-70.660775836, 56.401446079)],
                knots=[0, 0, 0, 0, 0.259468979, 0.853076688, 1, 1, 1, 1], degree=3))
        make_face()
        with BuildLine():
            ThreePointArc((-73.860632842, 13.023622382), (-70.684039887, 25.075372961), (-65.555496567, 36.434663354))
            add(Edge.make_bspline(
                [(-65.555496567, 36.434663354), (-66.475926214, 34.778569486), (-73.666880357, 33.862347037), (-83.471164524, 36.593139251), (-84.754469764, 31.505333207), (-85.207717263, 30.227690621)],
                knots=[0, 0, 0, 0, 0.259468979, 0.853076688, 1, 1, 1, 1], degree=3))
            add(Edge.make_bspline(
                [(-73.860632842, 13.023622382), (-73.531623953, 14.889524519), (-78.537540674, 20.132623111), (-87.870875163, 24.190957922), (-85.660964763, 28.950048035), (-85.207717263, 30.227690621)],
                knots=[0, 0, 0, 0, 0.259468979, 0.853076688, 1, 1, 1, 1], degree=3))
        make_face()
        with BuildLine():
            add(Edge.make_bspline(
                [(-64.951950455, -37.500026079), (-65.899293797, -35.859179279), (-73.104247295, -35.060473981), (-82.862643649, -37.950960918), (-84.228838226, -32.884783359), (-84.702883321, -31.614710478)],
                knots=[0, 0, 0, 0, 0.259468979, 0.853076688, 1, 1, 1, 1], degree=3))
            ThreePointArc((-64.951950455, -37.500026079), (-70.26525502, -26.225974926), (-73.638174028, -14.227689541))
            add(Edge.make_bspline(
                [(-73.638174028, -14.227689541), (-73.278747426, -16.087971818), (-78.19840145, -21.412095159), (-87.464238254, -25.622259342), (-85.176928416, -30.344637598), (-84.702883321, -31.614710478)],
                knots=[0, 0, 0, 0, 0.259468979, 0.853076688, 1, 1, 1, 1], degree=3))
        make_face()
        with BuildLine():
            add(Edge.make_bspline(
                [(-73.638174028, -14.227689541), (-73.99760063, -12.367407264), (-80.546485535, -9.259129353), (-90.713774106, -8.803654613), (-90.350249825, -3.569106611), (-90.383445383, -2.213856845)],
                knots=[0, 0, 0, 0, 0.259468979, 0.853076688, 1, 1, 1, 1], degree=3))
            ThreePointArc((-73.638174028, -14.227689541), (-74.977563814, -1.836504375), (-74.246436929, 10.605396134))
            add(Edge.make_bspline(
                [(-74.246436929, 10.605396134), (-74.514355447, 8.729747633), (-80.9032096, 5.304572064), (-91.036006117, 4.351865976), (-90.416640942, -0.858607079), (-90.383445383, -2.213856845)],
                knots=[0, 0, 0, 0, 0.259468979, 0.853076688, 1, 1, 1, 1], degree=3))
        make_face()
    extrude(amount=BOSS_EXTRUDE2_DEPTH)


solid = part.part
